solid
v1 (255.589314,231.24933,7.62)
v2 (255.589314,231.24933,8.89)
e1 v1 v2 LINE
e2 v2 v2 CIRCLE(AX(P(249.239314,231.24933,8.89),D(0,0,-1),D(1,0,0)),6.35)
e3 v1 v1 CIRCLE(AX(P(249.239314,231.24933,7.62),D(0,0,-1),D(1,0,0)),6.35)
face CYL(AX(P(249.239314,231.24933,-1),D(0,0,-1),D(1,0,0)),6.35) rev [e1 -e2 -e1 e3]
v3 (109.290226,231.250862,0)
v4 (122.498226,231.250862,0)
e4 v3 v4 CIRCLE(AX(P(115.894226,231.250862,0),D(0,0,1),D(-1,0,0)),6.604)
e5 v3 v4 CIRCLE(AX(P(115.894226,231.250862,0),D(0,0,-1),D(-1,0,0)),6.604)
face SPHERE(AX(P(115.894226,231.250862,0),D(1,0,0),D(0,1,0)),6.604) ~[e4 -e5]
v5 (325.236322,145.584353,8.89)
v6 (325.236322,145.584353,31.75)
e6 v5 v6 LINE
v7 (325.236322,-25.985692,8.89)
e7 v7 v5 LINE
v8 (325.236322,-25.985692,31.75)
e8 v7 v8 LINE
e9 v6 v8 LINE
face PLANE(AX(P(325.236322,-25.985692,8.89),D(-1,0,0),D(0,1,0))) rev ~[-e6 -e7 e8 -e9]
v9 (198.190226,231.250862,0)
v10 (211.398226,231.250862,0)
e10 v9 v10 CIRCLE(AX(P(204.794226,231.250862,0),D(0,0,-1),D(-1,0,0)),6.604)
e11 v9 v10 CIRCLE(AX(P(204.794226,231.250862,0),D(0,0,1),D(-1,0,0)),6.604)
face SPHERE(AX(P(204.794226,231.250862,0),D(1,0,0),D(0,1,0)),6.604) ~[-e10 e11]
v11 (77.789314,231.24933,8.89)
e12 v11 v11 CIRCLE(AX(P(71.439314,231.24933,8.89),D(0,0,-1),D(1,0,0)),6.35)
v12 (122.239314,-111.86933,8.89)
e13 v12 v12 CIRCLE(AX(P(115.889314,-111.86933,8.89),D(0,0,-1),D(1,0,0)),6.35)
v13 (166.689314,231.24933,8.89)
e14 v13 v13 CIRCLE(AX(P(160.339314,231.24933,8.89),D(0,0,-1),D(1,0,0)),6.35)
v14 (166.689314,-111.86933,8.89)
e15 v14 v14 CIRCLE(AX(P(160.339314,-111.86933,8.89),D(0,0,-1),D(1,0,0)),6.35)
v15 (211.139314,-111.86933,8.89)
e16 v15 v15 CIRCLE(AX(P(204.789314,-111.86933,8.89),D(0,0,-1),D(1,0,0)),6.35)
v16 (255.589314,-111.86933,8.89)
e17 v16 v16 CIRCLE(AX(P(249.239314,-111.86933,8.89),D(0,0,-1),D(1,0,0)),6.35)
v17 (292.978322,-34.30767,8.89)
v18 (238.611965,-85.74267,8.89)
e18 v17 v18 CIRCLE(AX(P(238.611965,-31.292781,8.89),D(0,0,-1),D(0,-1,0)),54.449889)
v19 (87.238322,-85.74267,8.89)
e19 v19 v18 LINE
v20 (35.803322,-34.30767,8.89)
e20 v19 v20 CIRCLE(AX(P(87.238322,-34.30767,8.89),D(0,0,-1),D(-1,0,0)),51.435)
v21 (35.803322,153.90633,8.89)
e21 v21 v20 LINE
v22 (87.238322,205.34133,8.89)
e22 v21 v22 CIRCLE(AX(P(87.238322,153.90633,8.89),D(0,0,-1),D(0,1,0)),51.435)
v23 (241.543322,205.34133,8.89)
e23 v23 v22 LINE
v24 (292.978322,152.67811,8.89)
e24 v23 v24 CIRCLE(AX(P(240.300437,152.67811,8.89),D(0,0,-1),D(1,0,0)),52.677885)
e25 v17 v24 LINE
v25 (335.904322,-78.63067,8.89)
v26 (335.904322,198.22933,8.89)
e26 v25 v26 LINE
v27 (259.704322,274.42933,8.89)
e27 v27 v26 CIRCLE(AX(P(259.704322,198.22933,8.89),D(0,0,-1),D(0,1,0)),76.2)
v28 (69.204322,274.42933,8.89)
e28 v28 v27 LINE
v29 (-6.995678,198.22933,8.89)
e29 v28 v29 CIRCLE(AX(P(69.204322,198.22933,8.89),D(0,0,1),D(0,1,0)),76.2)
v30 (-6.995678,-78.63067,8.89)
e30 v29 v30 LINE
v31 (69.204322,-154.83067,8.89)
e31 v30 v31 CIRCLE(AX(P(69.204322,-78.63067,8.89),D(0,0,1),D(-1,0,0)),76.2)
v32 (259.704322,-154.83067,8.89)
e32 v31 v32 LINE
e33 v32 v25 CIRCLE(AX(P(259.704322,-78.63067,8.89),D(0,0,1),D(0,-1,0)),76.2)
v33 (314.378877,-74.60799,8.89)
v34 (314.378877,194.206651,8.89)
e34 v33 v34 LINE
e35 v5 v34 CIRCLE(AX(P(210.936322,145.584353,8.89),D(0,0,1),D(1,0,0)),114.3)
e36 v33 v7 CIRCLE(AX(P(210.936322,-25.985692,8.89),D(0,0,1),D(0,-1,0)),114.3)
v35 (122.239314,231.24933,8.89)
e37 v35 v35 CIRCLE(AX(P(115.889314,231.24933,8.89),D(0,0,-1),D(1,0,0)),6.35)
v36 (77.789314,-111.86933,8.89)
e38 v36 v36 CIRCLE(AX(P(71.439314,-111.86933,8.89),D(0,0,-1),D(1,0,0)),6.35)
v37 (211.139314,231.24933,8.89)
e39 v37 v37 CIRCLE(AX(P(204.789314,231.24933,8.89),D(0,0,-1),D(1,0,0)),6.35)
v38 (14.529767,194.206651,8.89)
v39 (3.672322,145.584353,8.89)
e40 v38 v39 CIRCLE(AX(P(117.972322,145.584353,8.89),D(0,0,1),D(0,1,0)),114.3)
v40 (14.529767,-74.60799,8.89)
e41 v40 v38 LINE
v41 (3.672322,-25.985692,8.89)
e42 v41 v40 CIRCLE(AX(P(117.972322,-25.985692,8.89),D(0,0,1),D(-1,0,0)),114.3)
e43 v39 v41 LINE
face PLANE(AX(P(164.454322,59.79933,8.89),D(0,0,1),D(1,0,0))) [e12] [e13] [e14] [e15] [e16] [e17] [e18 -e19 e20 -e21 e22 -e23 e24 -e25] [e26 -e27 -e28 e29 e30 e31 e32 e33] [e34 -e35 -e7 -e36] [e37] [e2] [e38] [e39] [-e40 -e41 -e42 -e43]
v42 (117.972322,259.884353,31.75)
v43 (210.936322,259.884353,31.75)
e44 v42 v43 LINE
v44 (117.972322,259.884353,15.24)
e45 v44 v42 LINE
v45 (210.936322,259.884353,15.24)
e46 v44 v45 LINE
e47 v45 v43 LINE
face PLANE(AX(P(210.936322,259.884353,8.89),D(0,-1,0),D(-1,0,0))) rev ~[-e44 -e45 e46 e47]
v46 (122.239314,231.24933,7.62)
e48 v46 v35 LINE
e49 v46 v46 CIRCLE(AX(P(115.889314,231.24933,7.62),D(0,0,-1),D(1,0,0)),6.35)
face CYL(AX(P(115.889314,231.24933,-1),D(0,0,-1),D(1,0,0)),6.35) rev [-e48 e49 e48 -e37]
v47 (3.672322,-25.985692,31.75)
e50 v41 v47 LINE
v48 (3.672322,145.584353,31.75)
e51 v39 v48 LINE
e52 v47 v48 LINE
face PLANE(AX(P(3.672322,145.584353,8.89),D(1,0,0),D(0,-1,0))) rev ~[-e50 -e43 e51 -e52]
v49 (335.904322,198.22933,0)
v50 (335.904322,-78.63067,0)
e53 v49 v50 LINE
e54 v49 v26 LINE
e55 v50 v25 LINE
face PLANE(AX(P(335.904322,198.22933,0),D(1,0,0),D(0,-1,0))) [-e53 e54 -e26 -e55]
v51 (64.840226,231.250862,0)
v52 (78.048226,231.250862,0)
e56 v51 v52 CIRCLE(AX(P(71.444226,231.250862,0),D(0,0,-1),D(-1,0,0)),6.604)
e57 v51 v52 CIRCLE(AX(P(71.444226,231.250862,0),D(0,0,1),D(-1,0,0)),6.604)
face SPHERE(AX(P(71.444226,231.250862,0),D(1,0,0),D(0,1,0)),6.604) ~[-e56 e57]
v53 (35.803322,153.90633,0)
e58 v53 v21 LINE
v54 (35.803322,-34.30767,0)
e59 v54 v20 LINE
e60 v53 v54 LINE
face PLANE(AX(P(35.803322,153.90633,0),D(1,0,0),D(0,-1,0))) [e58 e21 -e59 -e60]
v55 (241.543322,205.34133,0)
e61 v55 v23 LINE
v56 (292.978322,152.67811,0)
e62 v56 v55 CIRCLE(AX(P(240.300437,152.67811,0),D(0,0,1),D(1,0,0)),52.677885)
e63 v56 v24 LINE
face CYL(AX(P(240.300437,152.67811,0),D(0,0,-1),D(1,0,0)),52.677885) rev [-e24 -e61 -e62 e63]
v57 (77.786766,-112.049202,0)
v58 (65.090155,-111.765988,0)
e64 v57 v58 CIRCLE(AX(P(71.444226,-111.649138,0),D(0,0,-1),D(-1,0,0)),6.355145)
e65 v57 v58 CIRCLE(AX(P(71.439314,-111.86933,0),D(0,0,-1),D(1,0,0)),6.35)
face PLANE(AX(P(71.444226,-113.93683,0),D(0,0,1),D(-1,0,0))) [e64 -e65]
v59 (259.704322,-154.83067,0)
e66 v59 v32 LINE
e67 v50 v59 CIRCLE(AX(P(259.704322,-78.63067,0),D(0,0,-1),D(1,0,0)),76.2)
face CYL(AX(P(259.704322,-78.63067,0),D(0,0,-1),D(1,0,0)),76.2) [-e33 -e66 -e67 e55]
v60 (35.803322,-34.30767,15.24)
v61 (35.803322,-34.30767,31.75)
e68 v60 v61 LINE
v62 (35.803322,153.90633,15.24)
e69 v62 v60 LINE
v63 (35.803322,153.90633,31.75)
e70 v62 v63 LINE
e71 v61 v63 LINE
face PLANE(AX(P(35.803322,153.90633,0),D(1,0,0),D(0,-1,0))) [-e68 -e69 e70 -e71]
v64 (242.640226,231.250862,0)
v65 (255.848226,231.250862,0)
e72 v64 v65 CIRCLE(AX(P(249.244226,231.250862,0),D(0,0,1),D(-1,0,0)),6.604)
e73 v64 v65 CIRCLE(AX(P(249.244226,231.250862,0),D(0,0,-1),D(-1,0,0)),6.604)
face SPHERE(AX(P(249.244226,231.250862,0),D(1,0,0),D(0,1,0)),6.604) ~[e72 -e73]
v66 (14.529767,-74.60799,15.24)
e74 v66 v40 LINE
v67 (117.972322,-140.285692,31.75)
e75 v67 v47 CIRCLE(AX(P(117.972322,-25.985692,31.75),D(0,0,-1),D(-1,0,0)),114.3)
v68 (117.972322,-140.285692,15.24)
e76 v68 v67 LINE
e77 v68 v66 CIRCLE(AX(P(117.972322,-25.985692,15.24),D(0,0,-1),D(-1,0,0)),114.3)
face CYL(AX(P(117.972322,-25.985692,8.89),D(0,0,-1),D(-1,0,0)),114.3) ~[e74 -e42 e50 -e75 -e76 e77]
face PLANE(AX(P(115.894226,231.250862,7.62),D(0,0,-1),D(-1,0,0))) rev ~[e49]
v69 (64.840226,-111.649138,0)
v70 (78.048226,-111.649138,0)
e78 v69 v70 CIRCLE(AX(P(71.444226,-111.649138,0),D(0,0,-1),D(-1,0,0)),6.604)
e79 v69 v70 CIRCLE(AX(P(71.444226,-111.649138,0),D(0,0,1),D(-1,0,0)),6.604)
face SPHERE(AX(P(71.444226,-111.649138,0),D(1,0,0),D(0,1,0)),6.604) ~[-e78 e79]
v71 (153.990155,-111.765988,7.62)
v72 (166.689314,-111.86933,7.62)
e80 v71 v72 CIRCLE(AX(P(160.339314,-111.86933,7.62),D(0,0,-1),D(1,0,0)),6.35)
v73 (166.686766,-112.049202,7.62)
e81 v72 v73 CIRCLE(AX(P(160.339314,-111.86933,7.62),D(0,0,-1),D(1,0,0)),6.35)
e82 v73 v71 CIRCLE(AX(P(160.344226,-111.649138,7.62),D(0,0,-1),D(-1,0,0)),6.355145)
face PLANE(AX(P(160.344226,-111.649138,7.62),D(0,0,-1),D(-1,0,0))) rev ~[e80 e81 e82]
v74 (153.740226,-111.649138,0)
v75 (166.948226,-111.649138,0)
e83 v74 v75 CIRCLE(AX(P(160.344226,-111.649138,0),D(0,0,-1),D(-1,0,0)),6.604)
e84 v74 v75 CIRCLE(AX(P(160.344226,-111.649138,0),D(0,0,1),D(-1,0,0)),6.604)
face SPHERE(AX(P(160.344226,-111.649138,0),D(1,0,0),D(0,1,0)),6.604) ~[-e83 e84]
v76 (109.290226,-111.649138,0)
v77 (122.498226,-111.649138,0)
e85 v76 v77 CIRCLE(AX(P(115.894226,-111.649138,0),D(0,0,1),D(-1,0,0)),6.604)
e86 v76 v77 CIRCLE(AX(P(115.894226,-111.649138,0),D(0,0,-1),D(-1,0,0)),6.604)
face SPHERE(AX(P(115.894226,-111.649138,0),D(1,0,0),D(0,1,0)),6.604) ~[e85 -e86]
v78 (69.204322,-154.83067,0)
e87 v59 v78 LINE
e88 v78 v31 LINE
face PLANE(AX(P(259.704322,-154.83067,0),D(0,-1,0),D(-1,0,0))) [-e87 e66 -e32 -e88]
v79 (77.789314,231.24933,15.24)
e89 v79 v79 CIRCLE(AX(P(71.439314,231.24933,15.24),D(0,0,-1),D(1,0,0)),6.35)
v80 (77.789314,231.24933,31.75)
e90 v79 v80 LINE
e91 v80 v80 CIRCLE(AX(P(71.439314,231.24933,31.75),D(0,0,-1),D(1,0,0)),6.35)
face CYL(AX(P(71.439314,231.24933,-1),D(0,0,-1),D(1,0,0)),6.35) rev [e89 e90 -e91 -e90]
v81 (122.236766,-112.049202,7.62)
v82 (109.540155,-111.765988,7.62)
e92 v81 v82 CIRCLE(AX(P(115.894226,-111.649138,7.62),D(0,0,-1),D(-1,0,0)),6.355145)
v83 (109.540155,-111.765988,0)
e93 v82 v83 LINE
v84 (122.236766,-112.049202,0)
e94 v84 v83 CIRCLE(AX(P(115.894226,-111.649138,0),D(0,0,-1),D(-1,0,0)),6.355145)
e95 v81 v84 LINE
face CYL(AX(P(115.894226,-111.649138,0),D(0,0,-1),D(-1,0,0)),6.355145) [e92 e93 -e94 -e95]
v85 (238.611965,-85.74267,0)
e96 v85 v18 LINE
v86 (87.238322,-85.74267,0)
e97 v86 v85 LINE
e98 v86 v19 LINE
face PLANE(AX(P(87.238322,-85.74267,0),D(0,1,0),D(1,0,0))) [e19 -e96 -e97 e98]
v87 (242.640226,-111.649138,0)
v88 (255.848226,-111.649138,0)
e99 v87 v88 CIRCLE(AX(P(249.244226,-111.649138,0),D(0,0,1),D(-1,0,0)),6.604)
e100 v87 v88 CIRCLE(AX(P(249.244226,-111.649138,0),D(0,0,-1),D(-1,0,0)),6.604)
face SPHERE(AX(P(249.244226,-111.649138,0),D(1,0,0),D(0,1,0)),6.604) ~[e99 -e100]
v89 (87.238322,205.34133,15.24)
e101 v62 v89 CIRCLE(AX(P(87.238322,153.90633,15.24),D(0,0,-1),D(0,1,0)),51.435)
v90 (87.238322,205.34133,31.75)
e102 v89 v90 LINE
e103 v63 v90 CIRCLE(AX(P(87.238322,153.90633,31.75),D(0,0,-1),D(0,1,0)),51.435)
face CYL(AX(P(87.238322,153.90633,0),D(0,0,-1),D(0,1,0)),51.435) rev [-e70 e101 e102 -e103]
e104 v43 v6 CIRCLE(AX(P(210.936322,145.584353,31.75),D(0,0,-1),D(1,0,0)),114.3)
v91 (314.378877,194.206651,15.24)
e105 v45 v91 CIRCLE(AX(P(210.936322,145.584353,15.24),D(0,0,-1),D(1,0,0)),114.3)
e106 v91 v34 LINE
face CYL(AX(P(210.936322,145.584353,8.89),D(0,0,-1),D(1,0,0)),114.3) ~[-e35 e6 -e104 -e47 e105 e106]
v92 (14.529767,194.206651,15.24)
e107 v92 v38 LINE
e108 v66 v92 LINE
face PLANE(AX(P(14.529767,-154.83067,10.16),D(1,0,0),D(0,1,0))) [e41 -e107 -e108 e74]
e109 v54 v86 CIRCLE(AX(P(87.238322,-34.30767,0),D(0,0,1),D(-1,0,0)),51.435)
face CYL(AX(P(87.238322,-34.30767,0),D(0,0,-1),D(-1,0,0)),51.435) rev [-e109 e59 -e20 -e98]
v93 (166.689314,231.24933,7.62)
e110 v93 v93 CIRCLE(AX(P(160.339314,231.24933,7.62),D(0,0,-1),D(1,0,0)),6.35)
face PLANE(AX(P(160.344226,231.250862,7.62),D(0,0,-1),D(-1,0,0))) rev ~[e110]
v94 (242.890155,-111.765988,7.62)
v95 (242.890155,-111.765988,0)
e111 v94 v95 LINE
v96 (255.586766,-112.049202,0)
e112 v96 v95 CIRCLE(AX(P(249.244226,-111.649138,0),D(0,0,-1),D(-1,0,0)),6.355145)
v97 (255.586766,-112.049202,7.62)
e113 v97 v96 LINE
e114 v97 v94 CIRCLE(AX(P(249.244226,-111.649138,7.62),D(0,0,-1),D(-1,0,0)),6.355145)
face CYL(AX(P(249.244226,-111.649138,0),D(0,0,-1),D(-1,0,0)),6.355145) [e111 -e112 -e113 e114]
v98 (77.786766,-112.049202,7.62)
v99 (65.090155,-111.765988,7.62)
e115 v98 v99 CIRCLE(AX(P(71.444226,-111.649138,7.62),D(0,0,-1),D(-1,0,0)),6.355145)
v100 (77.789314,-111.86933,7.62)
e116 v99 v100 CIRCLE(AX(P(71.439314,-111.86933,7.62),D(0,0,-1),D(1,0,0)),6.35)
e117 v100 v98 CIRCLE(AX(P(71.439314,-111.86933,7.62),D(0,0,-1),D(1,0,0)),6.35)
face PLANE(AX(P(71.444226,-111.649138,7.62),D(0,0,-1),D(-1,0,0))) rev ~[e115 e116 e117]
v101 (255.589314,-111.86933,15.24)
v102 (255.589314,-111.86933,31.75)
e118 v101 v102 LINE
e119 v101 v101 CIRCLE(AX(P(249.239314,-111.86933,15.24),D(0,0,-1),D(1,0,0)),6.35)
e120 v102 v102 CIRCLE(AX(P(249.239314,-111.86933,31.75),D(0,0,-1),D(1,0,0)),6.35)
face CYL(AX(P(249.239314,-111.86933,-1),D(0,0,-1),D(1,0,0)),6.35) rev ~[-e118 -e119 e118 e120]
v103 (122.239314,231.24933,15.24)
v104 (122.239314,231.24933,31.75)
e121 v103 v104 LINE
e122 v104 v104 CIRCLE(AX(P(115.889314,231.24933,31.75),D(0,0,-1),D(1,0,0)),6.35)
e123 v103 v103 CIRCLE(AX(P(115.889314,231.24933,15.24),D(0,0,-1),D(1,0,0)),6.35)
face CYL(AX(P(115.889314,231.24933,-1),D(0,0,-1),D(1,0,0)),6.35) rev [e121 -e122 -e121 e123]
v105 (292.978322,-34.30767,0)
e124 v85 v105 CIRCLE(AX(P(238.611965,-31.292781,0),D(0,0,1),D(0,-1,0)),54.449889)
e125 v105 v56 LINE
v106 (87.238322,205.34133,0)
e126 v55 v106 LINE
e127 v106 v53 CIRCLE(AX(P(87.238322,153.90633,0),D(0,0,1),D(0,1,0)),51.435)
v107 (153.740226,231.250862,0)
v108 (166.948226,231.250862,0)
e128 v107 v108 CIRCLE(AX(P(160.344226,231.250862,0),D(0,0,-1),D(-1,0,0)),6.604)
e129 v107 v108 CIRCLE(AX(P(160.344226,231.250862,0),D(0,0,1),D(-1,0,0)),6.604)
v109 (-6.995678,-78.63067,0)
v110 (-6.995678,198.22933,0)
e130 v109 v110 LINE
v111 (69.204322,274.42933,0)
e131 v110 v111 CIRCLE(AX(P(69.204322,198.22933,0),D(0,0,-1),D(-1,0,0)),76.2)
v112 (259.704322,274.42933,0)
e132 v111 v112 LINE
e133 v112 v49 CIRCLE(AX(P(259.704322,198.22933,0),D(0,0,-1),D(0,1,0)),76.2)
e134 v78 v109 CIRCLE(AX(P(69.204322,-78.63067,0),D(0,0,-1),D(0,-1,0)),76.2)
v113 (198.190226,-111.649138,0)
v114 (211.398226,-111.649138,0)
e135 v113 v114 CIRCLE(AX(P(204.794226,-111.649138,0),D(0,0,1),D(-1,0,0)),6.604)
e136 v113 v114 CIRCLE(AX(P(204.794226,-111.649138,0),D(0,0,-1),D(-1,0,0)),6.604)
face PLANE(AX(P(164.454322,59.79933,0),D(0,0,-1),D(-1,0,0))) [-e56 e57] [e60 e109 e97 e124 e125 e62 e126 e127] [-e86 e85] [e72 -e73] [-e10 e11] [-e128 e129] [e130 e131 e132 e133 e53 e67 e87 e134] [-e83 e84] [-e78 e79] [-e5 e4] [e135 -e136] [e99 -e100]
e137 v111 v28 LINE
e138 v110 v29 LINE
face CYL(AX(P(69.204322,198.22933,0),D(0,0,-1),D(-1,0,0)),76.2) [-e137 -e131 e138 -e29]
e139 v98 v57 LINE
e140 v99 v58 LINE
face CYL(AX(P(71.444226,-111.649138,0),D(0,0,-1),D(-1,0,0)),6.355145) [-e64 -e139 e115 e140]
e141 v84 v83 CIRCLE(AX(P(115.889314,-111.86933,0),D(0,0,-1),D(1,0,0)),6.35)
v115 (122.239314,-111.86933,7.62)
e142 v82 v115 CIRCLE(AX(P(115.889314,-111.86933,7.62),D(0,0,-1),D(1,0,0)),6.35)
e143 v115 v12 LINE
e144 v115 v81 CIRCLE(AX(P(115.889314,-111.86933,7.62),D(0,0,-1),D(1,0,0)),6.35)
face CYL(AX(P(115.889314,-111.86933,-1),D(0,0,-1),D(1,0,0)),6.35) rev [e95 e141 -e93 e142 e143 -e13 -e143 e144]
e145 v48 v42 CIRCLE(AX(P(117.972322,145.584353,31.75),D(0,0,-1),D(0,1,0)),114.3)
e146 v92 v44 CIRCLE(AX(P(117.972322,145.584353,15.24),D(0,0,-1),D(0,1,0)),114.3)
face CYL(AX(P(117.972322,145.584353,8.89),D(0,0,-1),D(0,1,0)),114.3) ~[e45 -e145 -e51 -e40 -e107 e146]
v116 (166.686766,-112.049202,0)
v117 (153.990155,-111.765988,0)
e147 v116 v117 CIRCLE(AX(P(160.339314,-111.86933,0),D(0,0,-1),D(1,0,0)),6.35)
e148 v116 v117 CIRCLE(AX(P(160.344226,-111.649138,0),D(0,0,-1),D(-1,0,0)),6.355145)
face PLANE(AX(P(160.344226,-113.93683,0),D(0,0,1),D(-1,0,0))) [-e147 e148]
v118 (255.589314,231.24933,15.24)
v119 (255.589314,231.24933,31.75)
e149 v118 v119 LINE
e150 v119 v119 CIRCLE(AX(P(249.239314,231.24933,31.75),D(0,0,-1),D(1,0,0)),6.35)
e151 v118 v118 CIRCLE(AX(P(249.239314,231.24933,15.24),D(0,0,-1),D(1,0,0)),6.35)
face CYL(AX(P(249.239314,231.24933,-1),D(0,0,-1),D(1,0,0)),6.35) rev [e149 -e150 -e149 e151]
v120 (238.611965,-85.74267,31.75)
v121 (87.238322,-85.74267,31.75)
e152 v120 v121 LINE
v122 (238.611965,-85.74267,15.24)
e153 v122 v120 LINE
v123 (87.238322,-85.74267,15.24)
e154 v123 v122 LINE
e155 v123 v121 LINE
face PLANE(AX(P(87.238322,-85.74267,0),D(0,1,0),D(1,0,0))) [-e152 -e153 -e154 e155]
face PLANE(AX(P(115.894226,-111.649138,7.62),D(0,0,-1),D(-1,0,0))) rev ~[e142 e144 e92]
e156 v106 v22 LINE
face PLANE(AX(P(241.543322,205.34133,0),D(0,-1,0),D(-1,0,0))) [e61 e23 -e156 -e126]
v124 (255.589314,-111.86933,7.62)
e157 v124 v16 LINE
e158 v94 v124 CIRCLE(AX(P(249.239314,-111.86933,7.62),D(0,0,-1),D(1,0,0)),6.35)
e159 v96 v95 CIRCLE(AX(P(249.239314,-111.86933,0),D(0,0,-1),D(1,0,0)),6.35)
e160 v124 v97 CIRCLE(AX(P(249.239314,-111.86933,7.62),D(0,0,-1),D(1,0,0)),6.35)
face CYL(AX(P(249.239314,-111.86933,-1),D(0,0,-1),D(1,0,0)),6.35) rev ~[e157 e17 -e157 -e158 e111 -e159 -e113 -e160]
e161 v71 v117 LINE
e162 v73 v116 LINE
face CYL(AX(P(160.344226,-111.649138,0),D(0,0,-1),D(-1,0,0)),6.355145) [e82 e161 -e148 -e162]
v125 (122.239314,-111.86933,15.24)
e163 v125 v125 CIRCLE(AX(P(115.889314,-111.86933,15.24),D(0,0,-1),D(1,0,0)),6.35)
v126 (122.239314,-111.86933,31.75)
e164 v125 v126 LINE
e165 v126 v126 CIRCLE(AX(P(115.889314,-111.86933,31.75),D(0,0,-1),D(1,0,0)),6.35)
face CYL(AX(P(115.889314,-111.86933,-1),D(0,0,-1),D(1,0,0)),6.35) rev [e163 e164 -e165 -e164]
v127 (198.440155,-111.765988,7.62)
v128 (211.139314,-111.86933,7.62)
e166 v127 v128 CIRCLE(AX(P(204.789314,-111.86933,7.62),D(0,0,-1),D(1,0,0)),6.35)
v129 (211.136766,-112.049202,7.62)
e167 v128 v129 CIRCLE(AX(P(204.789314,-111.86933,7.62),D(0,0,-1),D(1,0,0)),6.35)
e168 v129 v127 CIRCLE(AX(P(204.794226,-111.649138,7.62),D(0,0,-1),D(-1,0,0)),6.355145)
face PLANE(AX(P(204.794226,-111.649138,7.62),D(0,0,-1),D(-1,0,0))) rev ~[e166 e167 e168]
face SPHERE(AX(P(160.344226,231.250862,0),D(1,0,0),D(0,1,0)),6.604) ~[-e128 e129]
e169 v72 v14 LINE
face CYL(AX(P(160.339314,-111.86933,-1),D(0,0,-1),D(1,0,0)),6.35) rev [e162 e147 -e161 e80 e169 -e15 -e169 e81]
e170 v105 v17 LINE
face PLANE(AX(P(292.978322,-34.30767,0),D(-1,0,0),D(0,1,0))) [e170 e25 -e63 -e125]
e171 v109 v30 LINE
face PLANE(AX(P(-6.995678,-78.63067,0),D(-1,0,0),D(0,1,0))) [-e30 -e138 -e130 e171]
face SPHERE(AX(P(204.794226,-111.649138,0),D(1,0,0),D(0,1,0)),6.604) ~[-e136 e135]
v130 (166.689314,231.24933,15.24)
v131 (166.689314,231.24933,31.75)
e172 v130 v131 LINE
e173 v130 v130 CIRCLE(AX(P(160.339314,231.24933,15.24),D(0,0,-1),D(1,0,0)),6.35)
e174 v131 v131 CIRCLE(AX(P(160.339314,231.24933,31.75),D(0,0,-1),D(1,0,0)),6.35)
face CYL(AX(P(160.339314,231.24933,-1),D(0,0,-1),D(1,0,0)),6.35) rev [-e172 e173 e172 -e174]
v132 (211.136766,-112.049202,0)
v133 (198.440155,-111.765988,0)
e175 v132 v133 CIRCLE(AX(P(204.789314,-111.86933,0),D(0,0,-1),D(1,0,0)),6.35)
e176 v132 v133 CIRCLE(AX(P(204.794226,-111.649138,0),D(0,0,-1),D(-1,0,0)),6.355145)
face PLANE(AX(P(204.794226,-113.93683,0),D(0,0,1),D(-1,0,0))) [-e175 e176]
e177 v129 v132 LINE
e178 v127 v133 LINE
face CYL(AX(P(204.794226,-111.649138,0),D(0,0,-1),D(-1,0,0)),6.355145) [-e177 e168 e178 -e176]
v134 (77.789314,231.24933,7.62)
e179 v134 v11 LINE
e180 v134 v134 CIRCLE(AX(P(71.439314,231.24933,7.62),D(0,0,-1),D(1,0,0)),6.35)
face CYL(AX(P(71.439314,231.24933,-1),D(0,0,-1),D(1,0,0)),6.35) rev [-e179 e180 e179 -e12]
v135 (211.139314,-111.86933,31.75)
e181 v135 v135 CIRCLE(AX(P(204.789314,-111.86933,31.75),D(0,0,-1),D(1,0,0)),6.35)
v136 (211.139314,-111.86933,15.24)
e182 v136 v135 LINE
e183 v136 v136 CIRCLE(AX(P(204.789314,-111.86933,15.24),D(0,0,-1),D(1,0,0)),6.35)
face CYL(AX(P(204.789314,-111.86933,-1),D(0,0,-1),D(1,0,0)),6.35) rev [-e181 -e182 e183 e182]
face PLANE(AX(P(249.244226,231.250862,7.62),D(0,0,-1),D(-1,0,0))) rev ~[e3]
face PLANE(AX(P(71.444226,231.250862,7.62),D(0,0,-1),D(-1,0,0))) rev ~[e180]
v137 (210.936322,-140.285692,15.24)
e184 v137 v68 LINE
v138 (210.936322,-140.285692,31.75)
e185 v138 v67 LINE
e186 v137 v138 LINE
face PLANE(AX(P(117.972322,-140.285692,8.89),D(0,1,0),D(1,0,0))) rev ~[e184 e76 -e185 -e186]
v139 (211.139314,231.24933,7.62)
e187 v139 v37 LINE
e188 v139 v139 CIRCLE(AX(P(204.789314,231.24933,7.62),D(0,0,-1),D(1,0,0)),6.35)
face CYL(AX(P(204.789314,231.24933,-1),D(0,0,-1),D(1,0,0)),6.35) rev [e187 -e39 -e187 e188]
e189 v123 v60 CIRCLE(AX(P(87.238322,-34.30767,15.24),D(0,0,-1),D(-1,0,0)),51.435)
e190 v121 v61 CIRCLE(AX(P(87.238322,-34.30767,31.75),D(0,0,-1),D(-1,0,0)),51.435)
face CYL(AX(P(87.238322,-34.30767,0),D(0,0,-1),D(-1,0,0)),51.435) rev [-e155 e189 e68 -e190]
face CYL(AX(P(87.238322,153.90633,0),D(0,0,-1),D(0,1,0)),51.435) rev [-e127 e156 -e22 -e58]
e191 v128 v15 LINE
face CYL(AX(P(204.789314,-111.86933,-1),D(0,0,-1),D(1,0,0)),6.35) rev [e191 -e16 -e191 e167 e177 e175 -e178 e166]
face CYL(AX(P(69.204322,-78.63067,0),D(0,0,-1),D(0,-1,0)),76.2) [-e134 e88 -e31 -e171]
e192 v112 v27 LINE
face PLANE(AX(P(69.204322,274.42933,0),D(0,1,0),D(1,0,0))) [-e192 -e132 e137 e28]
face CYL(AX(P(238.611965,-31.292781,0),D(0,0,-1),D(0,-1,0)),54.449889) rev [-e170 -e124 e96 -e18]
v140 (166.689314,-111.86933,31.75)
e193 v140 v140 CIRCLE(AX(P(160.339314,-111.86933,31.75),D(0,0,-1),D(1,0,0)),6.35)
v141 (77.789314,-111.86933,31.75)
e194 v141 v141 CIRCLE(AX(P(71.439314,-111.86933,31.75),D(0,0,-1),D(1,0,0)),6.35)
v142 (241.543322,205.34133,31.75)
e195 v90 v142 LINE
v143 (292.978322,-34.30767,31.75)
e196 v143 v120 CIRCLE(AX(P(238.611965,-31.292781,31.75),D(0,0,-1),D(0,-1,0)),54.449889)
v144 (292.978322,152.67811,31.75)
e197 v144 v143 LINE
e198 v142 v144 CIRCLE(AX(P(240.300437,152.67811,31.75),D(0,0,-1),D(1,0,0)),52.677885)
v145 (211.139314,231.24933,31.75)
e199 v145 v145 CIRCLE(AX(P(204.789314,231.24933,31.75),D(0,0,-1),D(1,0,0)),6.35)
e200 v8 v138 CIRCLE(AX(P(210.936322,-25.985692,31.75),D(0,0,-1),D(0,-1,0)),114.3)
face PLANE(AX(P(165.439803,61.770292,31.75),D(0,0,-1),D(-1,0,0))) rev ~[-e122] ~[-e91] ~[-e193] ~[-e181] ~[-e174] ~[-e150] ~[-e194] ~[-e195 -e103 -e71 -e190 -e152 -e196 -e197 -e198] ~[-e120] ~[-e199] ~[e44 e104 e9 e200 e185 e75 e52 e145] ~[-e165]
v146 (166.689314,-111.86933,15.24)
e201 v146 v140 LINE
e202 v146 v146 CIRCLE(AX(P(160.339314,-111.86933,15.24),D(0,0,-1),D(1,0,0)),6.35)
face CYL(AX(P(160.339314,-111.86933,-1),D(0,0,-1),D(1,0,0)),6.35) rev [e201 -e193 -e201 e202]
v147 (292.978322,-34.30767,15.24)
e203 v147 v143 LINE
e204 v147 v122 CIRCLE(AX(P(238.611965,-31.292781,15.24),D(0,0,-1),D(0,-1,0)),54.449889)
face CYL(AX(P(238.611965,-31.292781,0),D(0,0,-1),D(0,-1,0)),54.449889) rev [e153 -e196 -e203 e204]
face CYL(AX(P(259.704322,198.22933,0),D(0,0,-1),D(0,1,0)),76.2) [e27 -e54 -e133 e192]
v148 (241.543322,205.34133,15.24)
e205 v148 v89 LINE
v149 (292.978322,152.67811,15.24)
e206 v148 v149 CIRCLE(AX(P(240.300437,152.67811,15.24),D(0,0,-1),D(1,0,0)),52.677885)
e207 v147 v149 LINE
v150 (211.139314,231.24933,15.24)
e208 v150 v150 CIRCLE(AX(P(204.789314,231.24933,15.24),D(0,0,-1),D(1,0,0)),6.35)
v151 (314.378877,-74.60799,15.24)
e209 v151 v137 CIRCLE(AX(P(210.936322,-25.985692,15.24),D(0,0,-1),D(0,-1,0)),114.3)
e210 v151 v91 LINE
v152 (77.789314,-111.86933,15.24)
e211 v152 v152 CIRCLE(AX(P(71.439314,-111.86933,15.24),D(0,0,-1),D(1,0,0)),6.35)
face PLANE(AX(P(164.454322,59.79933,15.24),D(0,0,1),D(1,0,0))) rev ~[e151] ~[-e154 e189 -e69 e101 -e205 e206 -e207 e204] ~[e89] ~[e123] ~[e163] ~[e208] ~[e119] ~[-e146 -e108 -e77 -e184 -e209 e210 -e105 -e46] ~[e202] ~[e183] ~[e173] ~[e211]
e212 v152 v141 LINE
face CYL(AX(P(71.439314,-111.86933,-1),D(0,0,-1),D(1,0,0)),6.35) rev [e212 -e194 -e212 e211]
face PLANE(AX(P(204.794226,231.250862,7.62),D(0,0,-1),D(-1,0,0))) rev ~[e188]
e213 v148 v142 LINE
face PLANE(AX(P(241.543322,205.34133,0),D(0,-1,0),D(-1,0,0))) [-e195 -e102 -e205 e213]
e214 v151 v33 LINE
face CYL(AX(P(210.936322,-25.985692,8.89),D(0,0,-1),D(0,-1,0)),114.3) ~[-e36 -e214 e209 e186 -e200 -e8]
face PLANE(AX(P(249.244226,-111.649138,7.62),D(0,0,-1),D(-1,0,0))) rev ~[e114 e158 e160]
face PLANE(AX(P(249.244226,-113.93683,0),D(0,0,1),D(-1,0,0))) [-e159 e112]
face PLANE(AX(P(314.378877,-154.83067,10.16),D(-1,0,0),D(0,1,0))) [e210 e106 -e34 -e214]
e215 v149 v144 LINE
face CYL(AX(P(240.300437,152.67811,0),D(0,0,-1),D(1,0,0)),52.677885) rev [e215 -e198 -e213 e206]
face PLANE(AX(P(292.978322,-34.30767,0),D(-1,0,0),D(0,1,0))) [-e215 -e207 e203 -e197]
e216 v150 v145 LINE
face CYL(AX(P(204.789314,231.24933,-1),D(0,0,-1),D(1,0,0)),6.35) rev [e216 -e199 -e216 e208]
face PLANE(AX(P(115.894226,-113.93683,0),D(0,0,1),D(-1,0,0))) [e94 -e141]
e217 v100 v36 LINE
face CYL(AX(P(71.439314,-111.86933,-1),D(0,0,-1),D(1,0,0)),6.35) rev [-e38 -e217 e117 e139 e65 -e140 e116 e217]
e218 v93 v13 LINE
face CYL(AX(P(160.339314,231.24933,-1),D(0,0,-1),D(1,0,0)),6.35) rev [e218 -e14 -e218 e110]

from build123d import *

# Parameters (mm, degrees)
BOSS_EXTRUDE1_DEPTH       = 63.5
SKETCH4_W                 = 299.849109537
SKETCH4_H                 = 429.26
CUT_EXTRUDE2_DEPTH        = 5.08
CUT_EXTRUDE2_DEPTH_BACK   = 1.27
CUT_EXTRUDE4_DEPTH        = 25.4
CUT_EXTRUDE5_START        = -1
SKETCH10_R                = 6.35
CUT_EXTRUDE5_DEPTH        = 120.38
LPATTERN1_COUNT           = 5
LPATTERN1_PITCH           = 44.45
MIRROR1_START             = -1
MIRROR1_COPY_1_SKETCH_R   = 6.35
MIRROR1_COPY_1_DEPTH      = 120.38
MIRROR1_COPY_2_SKETCH_R   = 6.35
MIRROR1_COPY_2_DEPTH      = 120.38
MIRROR1_COPY_3_SKETCH_R   = 6.35
MIRROR1_COPY_3_DEPTH      = 120.38
MIRROR1_COPY_4_SKETCH_R   = 6.35
MIRROR1_COPY_4_DEPTH      = 120.38
SKETCH11_W                = 361.999881137
SKETCH11_H                = 453.321085271
CUT_EXTRUDE6_DEPTH        = 32.75
SKETCH13_R                = 6.355145043
BOSS_EXTRUDE2_DEPTH       = 7.62
REVOLVE1_ANGLE            = 180
LPATTERN2_COUNT           = 5
LPATTERN2_PITCH           = 44.45
LPATTERN3_COUNT           = 2
LPATTERN3_PITCH           = 342.9
LPATTERN3_COPY_1_SKETCH_R = 6.355145043
LPATTERN3_COPY_1_DEPTH    = 7.62
LPATTERN3_COPY_2_SKETCH_R = 6.355145043
LPATTERN3_COPY_2_DEPTH    = 7.62
LPATTERN3_COPY_3_SKETCH_R = 6.355145043
LPATTERN3_COPY_3_DEPTH    = 7.62
LPATTERN3_COPY_4_SKETCH_R = 6.355145043
LPATTERN3_COPY_4_DEPTH    = 7.62
LPATTERN3_COPY_5_ANGLE    = 180
LPATTERN3_COPY_6_ANGLE    = 180
LPATTERN3_COPY_7_ANGLE    = 180
LPATTERN3_COPY_8_ANGLE    = 180


with BuildPart() as part:
    # Sketch1 → Boss-Extrude1 (new body)
    with BuildSketch(Plane.XY):
        with BuildLine():
            Line((69.204322144, 274.429330483), (259.704322144, 274.429330483))
            ThreePointArc((259.704322144, 274.429330483), (313.58585887, 252.11086721), (335.904322144, 198.229330483))
            Line((335.904322144, 198.229330483), (335.904322144, -78.630669517))
            ThreePointArc((335.904322144, -78.630669517), (313.58585887, -132.512206243), (259.704322144, -154.830669517))
            Line((259.704322144, -154.830669517), (69.204322144, -154.830669517))
            ThreePointArc((69.204322144, -154.830669517), (15.322785417, -132.512206243), (-6.995677856, -78.630669517))
            Line((-6.995677856, -78.630669517), (-6.995677856, 198.229330483))
            ThreePointArc((-6.995677856, 198.229330483), (15.322785417, 252.11086721), (69.204322144, 274.429330483))
        make_face()
        with BuildLine():
            ThreePointArc((87.238322144, 205.341330483), (50.868284853, 190.276367774), (35.803322144, 153.906330483))
            Line((35.803322144, 153.906330483), (35.803322144, -34.307669517))
            ThreePointArc((35.803322144, -34.307669517), (50.868284853, -70.677706807), (87.238322144, -85.742669517))
            Line((87.238322144, -85.742669517), (238.611964536, -85.742669517))
            ThreePointArc((238.611964536, -85.742669517), (276.032747747, -70.846230317), (292.978322144, -34.307669517))
            Line((292.978322144, -34.307669517), (292.978322144, 152.678109907))
            ThreePointArc((292.978322144, 152.678109907), (277.986191222, 189.484950394), (241.543322144, 205.341330483))
            Line((241.543322144, 205.341330483), (87.238322144, 205.341330483))
        make_face(mode=Mode.SUBTRACT)
    extrude(amount=BOSS_EXTRUDE1_DEPTH)

    # Sketch4 → Cut-Extrude2 (cut, two sides)
    with BuildSketch(Plane.XY.offset(10.16)) as cut_extrude2_sk:
        with Locations((164.454322144, 59.799330483)):
            Rectangle(SKETCH4_W, SKETCH4_H)
    extrude(amount=CUT_EXTRUDE2_DEPTH, mode=Mode.SUBTRACT)
    extrude(cut_extrude2_sk.sketch, amount=-CUT_EXTRUDE2_DEPTH_BACK, mode=Mode.SUBTRACT)

    # Sketch9 → Cut-Extrude4 (cut)
    with BuildSketch(Plane.XY.offset(8.89)):
        with BuildLine():
            Line((69.204322144, -154.830669517), (259.704322144, -154.830669517))
            ThreePointArc((259.704322144, -154.830669517), (313.58585887, -132.512206243), (335.904322144, -78.630669517))
            Line((335.904322144, -78.630669517), (335.904322144, 198.229330483))
            ThreePointArc((335.904322144, 198.229330483), (313.58585887, 252.11086721), (259.704322144, 274.429330483))
            Line((259.704322144, 274.429330483), (69.204322144, 274.429330483))
            ThreePointArc((69.204322144, 274.429330483), (15.322785417, 252.11086721), (-6.995677856, 198.229330483))
            Line((-6.995677856, 198.229330483), (-6.995677856, -78.630669517))
            ThreePointArc((-6.995677856, -78.630669517), (15.322785417, -132.512206243), (69.204322144, -154.830669517))
        make_face()
        with BuildLine():
            Line((117.972322144, -140.285692494), (210.936322144, -140.285692494))
            ThreePointArc((210.936322144, -140.285692494), (291.758627233, -106.807997584), (325.236322144, -25.985692494))
            Line((325.236322144, -25.985692494), (325.236322144, 145.584353461))
            ThreePointArc((325.236322144, 145.584353461), (291.758627233, 226.406658551), (210.936322144, 259.884353461))
            Line((210.936322144, 259.884353461), (117.972322144, 259.884353461))
            ThreePointArc((117.972322144, 259.884353461), (37.150017054, 226.406658551), (3.672322144, 145.584353461))
            Line((3.672322144, 145.584353461), (3.672322144, -25.985692494))
            ThreePointArc((3.672322144, -25.985692494), (37.150017054, -106.807997584), (117.972322144, -140.285692494))
        make_face(mode=Mode.SUBTRACT)
    extrude(amount=CUT_EXTRUDE4_DEPTH, mode=Mode.SUBTRACT)

    # Sketch10 → Cut-Extrude5 (cut)
    with BuildSketch(Plane.XY.offset(CUT_EXTRUDE5_START)):
        with Locations((249.239313911, 231.249330483)):
            Circle(SKETCH10_R)
    cut_extrude5 = extrude(amount=CUT_EXTRUDE5_DEPTH, mode=Mode.SUBTRACT)

    # LPattern1: Cut-Extrude5 ×5
    with Locations(*[(-i * LPATTERN1_PITCH, 0, 0) for i in range(1, LPATTERN1_COUNT)]):
        add(cut_extrude5, mode=Mode.SUBTRACT)

    # Mirror1: Cut-Extrude5 across plane
    add(cut_extrude5.mirror(Plane.ZX.offset(59.69)), mode=Mode.SUBTRACT)

    # Mirror1 copy 1 sketch → Mirror1 copy 1 (cut)
    with BuildSketch(Plane(origin=(-44.45, 119.38, 0), x_dir=(1, 0, 0), z_dir=(0, 0, 1)).offset(MIRROR1_START)):
        with Locations((249.239313911, -231.249330483)):
            Circle(MIRROR1_COPY_1_SKETCH_R)
    extrude(amount=MIRROR1_COPY_1_DEPTH, mode=Mode.SUBTRACT)

    # Mirror1 copy 2 sketch → Mirror1 copy 2 (cut)
    with BuildSketch(Plane(origin=(-88.9, 119.38, 0), x_dir=(1, 0, 0), z_dir=(0, 0, 1)).offset(MIRROR1_START)):
        with Locations((249.239313911, -231.249330483)):
            Circle(MIRROR1_COPY_2_SKETCH_R)
    extrude(amount=MIRROR1_COPY_2_DEPTH, mode=Mode.SUBTRACT)

    # Mirror1 copy 3 sketch → Mirror1 copy 3 (cut)
    with BuildSketch(Plane(origin=(-133.35, 119.38, 0), x_dir=(1, 0, 0), z_dir=(0, 0, 1)).offset(MIRROR1_START)):
        with Locations((249.239313911, -231.249330483)):
            Circle(MIRROR1_COPY_3_SKETCH_R)
    extrude(amount=MIRROR1_COPY_3_DEPTH, mode=Mode.SUBTRACT)

    # Mirror1 copy 4 sketch → Mirror1 copy 4 (cut)
    with BuildSketch(Plane(origin=(-177.8, 119.38, 0), x_dir=(1, 0, 0), z_dir=(0, 0, 1)).offset(MIRROR1_START)):
        with Locations((249.239313911, -231.249330483)):
            Circle(MIRROR1_COPY_4_SKETCH_R)
    extrude(amount=MIRROR1_COPY_4_DEPTH, mode=Mode.SUBTRACT)

    # Sketch11 → Cut-Extrude6 (cut, through all)
    with BuildSketch(Plane(origin=(0, 0, 31.75), x_dir=(-1, 0, 0), z_dir=(0, 0, -1))):
        with Locations((-165.439802764, 61.770291724)):
            Rectangle(SKETCH11_W, SKETCH11_H)
    extrude(amount=-CUT_EXTRUDE6_DEPTH, mode=Mode.SUBTRACT)

    # Sketch13 → Boss-Extrude2 (add)
    with BuildSketch(Plane(origin=(0, 0, 0), x_dir=(-1, 0, 0), z_dir=(0, 0, -1))):
        with Locations((-249.244225601, 231.2508624)):
            Circle(SKETCH13_R)
    boss_extrude2 = extrude(amount=-BOSS_EXTRUDE2_DEPTH)

    # Sketch14 → Revolve1 (revolve)
    with BuildSketch(Plane(origin=(0, 0, 0), x_dir=(-1, 0, 0), z_dir=(0, 0, -1))):
        with BuildLine():
            Line((-255.848225601, 231.2508624), (-242.640225601, 231.2508624))
            ThreePointArc((-242.640225601, 231.2508624), (-249.244225601, 237.8548624), (-255.848225601, 231.2508624))
        make_face()
    revolve1 = revolve(axis=Axis((255.848225601, 231.2508624, 0), (-1, 0, 0)), revolution_arc=REVOLVE1_ANGLE)

    # LPattern2: Boss-Extrude2, Revolve1 ×5
    with Locations(*[(-i * LPATTERN2_PITCH, 0, 0) for i in range(1, LPATTERN2_COUNT)]):
        add(boss_extrude2)
        add(revolve1)

    # LPattern3: Revolve1, Boss-Extrude2 ×2
    with Locations(*[(0, -i * LPATTERN3_PITCH, 0) for i in range(1, LPATTERN3_COUNT)]):
        add(revolve1)
        add(boss_extrude2)

    # LPattern3 copy 1 sketch → LPattern3 copy 1 (add)
    with BuildSketch(Plane(origin=(-44.45, -342.9, 0), x_dir=(-1, 0, 0), z_dir=(0, 0, -1))):
        with Locations((-249.244225601, 231.2508624)):
            Circle(LPATTERN3_COPY_1_SKETCH_R)
    extrude(amount=-LPATTERN3_COPY_1_DEPTH)

    # LPattern3 copy 2 sketch → LPattern3 copy 2 (add)
    with BuildSketch(Plane(origin=(-88.9, -342.9, 0), x_dir=(-1, 0, 0), z_dir=(0, 0, -1))):
        with Locations((-249.244225601, 231.2508624)):
            Circle(LPATTERN3_COPY_2_SKETCH_R)
    extrude(amount=-LPATTERN3_COPY_2_DEPTH)

    # LPattern3 copy 3 sketch → LPattern3 copy 3 (add)
    with BuildSketch(Plane(origin=(-133.35, -342.9, 0), x_dir=(-1, 0, 0), z_dir=(0, 0, -1))):
        with Locations((-249.244225601, 231.2508624)):
            Circle(LPATTERN3_COPY_3_SKETCH_R)
    extrude(amount=-LPATTERN3_COPY_3_DEPTH)

    # LPattern3 copy 4 sketch → LPattern3 copy 4 (add)
    with BuildSketch(Plane(origin=(-177.8, -342.9, 0), x_dir=(-1, 0, 0), z_dir=(0, 0, -1))):
        with Locations((-249.244225601, 231.2508624)):
            Circle(LPATTERN3_COPY_4_SKETCH_R)
    extrude(amount=-LPATTERN3_COPY_4_DEPTH)

    # LPattern3 copy 5 sketch → LPattern3 copy 5 (revolve)
    with BuildSketch(Plane(origin=(-44.45, -342.9, 0), x_dir=(-1, 0, 0), z_dir=(0, 0, -1))):
        with BuildLine():
            Line((-255.848225601, 231.2508624), (-242.640225601, 231.2508624))
            ThreePointArc((-242.640225601, 231.2508624), (-249.244225601, 237.8548624), (-255.848225601, 231.2508624))
        make_face()
    revolve(axis=Axis((211.398225601, -111.6491376, 0), (-1, 0, 0)), revolution_arc=LPATTERN3_COPY_5_ANGLE)

    # LPattern3 copy 6 sketch → LPattern3 copy 6 (revolve)
    with BuildSketch(Plane(origin=(-88.9, -342.9, 0), x_dir=(-1, 0, 0), z_dir=(0, 0, -1))):
        with BuildLine():
            Line((-255.848225601, 231.2508624), (-242.640225601, 231.2508624))
            ThreePointArc((-242.640225601, 231.2508624), (-249.244225601, 237.8548624), (-255.848225601, 231.2508624))
        make_face()
    revolve(axis=Axis((166.948225601, -111.6491376, 0), (-1, 0, 0)), revolution_arc=LPATTERN3_COPY_6_ANGLE)

    # LPattern3 copy 7 sketch → LPattern3 copy 7 (revolve)
    with BuildSketch(Plane(origin=(-133.35, -342.9, 0), x_dir=(-1, 0, 0), z_dir=(0, 0, -1))):
        with BuildLine():
            Line((-255.848225601, 231.2508624), (-242.640225601, 231.2508624))
            ThreePointArc((-242.640225601, 231.2508624), (-249.244225601, 237.8548624), (-255.848225601, 231.2508624))
        make_face()
    revolve(axis=Axis((122.498225601, -111.6491376, 0), (-1, 0, 0)), revolution_arc=LPATTERN3_COPY_7_ANGLE)

    # LPattern3 copy 8 sketch → LPattern3 copy 8 (revolve)
    with BuildSketch(Plane(origin=(-177.8, -342.9, 0), x_dir=(-1, 0, 0), z_dir=(0, 0, -1))):
        with BuildLine():
            Line((-255.848225601, 231.2508624), (-242.640225601, 231.2508624))
            ThreePointArc((-242.640225601, 231.2508624), (-249.244225601, 237.8548624), (-255.848225601, 231.2508624))
        make_face()
    revolve(axis=Axis((78.048225601, -111.6491376, 0), (-1, 0, 0)), revolution_arc=LPATTERN3_COPY_8_ANGLE)


solid = part.part
